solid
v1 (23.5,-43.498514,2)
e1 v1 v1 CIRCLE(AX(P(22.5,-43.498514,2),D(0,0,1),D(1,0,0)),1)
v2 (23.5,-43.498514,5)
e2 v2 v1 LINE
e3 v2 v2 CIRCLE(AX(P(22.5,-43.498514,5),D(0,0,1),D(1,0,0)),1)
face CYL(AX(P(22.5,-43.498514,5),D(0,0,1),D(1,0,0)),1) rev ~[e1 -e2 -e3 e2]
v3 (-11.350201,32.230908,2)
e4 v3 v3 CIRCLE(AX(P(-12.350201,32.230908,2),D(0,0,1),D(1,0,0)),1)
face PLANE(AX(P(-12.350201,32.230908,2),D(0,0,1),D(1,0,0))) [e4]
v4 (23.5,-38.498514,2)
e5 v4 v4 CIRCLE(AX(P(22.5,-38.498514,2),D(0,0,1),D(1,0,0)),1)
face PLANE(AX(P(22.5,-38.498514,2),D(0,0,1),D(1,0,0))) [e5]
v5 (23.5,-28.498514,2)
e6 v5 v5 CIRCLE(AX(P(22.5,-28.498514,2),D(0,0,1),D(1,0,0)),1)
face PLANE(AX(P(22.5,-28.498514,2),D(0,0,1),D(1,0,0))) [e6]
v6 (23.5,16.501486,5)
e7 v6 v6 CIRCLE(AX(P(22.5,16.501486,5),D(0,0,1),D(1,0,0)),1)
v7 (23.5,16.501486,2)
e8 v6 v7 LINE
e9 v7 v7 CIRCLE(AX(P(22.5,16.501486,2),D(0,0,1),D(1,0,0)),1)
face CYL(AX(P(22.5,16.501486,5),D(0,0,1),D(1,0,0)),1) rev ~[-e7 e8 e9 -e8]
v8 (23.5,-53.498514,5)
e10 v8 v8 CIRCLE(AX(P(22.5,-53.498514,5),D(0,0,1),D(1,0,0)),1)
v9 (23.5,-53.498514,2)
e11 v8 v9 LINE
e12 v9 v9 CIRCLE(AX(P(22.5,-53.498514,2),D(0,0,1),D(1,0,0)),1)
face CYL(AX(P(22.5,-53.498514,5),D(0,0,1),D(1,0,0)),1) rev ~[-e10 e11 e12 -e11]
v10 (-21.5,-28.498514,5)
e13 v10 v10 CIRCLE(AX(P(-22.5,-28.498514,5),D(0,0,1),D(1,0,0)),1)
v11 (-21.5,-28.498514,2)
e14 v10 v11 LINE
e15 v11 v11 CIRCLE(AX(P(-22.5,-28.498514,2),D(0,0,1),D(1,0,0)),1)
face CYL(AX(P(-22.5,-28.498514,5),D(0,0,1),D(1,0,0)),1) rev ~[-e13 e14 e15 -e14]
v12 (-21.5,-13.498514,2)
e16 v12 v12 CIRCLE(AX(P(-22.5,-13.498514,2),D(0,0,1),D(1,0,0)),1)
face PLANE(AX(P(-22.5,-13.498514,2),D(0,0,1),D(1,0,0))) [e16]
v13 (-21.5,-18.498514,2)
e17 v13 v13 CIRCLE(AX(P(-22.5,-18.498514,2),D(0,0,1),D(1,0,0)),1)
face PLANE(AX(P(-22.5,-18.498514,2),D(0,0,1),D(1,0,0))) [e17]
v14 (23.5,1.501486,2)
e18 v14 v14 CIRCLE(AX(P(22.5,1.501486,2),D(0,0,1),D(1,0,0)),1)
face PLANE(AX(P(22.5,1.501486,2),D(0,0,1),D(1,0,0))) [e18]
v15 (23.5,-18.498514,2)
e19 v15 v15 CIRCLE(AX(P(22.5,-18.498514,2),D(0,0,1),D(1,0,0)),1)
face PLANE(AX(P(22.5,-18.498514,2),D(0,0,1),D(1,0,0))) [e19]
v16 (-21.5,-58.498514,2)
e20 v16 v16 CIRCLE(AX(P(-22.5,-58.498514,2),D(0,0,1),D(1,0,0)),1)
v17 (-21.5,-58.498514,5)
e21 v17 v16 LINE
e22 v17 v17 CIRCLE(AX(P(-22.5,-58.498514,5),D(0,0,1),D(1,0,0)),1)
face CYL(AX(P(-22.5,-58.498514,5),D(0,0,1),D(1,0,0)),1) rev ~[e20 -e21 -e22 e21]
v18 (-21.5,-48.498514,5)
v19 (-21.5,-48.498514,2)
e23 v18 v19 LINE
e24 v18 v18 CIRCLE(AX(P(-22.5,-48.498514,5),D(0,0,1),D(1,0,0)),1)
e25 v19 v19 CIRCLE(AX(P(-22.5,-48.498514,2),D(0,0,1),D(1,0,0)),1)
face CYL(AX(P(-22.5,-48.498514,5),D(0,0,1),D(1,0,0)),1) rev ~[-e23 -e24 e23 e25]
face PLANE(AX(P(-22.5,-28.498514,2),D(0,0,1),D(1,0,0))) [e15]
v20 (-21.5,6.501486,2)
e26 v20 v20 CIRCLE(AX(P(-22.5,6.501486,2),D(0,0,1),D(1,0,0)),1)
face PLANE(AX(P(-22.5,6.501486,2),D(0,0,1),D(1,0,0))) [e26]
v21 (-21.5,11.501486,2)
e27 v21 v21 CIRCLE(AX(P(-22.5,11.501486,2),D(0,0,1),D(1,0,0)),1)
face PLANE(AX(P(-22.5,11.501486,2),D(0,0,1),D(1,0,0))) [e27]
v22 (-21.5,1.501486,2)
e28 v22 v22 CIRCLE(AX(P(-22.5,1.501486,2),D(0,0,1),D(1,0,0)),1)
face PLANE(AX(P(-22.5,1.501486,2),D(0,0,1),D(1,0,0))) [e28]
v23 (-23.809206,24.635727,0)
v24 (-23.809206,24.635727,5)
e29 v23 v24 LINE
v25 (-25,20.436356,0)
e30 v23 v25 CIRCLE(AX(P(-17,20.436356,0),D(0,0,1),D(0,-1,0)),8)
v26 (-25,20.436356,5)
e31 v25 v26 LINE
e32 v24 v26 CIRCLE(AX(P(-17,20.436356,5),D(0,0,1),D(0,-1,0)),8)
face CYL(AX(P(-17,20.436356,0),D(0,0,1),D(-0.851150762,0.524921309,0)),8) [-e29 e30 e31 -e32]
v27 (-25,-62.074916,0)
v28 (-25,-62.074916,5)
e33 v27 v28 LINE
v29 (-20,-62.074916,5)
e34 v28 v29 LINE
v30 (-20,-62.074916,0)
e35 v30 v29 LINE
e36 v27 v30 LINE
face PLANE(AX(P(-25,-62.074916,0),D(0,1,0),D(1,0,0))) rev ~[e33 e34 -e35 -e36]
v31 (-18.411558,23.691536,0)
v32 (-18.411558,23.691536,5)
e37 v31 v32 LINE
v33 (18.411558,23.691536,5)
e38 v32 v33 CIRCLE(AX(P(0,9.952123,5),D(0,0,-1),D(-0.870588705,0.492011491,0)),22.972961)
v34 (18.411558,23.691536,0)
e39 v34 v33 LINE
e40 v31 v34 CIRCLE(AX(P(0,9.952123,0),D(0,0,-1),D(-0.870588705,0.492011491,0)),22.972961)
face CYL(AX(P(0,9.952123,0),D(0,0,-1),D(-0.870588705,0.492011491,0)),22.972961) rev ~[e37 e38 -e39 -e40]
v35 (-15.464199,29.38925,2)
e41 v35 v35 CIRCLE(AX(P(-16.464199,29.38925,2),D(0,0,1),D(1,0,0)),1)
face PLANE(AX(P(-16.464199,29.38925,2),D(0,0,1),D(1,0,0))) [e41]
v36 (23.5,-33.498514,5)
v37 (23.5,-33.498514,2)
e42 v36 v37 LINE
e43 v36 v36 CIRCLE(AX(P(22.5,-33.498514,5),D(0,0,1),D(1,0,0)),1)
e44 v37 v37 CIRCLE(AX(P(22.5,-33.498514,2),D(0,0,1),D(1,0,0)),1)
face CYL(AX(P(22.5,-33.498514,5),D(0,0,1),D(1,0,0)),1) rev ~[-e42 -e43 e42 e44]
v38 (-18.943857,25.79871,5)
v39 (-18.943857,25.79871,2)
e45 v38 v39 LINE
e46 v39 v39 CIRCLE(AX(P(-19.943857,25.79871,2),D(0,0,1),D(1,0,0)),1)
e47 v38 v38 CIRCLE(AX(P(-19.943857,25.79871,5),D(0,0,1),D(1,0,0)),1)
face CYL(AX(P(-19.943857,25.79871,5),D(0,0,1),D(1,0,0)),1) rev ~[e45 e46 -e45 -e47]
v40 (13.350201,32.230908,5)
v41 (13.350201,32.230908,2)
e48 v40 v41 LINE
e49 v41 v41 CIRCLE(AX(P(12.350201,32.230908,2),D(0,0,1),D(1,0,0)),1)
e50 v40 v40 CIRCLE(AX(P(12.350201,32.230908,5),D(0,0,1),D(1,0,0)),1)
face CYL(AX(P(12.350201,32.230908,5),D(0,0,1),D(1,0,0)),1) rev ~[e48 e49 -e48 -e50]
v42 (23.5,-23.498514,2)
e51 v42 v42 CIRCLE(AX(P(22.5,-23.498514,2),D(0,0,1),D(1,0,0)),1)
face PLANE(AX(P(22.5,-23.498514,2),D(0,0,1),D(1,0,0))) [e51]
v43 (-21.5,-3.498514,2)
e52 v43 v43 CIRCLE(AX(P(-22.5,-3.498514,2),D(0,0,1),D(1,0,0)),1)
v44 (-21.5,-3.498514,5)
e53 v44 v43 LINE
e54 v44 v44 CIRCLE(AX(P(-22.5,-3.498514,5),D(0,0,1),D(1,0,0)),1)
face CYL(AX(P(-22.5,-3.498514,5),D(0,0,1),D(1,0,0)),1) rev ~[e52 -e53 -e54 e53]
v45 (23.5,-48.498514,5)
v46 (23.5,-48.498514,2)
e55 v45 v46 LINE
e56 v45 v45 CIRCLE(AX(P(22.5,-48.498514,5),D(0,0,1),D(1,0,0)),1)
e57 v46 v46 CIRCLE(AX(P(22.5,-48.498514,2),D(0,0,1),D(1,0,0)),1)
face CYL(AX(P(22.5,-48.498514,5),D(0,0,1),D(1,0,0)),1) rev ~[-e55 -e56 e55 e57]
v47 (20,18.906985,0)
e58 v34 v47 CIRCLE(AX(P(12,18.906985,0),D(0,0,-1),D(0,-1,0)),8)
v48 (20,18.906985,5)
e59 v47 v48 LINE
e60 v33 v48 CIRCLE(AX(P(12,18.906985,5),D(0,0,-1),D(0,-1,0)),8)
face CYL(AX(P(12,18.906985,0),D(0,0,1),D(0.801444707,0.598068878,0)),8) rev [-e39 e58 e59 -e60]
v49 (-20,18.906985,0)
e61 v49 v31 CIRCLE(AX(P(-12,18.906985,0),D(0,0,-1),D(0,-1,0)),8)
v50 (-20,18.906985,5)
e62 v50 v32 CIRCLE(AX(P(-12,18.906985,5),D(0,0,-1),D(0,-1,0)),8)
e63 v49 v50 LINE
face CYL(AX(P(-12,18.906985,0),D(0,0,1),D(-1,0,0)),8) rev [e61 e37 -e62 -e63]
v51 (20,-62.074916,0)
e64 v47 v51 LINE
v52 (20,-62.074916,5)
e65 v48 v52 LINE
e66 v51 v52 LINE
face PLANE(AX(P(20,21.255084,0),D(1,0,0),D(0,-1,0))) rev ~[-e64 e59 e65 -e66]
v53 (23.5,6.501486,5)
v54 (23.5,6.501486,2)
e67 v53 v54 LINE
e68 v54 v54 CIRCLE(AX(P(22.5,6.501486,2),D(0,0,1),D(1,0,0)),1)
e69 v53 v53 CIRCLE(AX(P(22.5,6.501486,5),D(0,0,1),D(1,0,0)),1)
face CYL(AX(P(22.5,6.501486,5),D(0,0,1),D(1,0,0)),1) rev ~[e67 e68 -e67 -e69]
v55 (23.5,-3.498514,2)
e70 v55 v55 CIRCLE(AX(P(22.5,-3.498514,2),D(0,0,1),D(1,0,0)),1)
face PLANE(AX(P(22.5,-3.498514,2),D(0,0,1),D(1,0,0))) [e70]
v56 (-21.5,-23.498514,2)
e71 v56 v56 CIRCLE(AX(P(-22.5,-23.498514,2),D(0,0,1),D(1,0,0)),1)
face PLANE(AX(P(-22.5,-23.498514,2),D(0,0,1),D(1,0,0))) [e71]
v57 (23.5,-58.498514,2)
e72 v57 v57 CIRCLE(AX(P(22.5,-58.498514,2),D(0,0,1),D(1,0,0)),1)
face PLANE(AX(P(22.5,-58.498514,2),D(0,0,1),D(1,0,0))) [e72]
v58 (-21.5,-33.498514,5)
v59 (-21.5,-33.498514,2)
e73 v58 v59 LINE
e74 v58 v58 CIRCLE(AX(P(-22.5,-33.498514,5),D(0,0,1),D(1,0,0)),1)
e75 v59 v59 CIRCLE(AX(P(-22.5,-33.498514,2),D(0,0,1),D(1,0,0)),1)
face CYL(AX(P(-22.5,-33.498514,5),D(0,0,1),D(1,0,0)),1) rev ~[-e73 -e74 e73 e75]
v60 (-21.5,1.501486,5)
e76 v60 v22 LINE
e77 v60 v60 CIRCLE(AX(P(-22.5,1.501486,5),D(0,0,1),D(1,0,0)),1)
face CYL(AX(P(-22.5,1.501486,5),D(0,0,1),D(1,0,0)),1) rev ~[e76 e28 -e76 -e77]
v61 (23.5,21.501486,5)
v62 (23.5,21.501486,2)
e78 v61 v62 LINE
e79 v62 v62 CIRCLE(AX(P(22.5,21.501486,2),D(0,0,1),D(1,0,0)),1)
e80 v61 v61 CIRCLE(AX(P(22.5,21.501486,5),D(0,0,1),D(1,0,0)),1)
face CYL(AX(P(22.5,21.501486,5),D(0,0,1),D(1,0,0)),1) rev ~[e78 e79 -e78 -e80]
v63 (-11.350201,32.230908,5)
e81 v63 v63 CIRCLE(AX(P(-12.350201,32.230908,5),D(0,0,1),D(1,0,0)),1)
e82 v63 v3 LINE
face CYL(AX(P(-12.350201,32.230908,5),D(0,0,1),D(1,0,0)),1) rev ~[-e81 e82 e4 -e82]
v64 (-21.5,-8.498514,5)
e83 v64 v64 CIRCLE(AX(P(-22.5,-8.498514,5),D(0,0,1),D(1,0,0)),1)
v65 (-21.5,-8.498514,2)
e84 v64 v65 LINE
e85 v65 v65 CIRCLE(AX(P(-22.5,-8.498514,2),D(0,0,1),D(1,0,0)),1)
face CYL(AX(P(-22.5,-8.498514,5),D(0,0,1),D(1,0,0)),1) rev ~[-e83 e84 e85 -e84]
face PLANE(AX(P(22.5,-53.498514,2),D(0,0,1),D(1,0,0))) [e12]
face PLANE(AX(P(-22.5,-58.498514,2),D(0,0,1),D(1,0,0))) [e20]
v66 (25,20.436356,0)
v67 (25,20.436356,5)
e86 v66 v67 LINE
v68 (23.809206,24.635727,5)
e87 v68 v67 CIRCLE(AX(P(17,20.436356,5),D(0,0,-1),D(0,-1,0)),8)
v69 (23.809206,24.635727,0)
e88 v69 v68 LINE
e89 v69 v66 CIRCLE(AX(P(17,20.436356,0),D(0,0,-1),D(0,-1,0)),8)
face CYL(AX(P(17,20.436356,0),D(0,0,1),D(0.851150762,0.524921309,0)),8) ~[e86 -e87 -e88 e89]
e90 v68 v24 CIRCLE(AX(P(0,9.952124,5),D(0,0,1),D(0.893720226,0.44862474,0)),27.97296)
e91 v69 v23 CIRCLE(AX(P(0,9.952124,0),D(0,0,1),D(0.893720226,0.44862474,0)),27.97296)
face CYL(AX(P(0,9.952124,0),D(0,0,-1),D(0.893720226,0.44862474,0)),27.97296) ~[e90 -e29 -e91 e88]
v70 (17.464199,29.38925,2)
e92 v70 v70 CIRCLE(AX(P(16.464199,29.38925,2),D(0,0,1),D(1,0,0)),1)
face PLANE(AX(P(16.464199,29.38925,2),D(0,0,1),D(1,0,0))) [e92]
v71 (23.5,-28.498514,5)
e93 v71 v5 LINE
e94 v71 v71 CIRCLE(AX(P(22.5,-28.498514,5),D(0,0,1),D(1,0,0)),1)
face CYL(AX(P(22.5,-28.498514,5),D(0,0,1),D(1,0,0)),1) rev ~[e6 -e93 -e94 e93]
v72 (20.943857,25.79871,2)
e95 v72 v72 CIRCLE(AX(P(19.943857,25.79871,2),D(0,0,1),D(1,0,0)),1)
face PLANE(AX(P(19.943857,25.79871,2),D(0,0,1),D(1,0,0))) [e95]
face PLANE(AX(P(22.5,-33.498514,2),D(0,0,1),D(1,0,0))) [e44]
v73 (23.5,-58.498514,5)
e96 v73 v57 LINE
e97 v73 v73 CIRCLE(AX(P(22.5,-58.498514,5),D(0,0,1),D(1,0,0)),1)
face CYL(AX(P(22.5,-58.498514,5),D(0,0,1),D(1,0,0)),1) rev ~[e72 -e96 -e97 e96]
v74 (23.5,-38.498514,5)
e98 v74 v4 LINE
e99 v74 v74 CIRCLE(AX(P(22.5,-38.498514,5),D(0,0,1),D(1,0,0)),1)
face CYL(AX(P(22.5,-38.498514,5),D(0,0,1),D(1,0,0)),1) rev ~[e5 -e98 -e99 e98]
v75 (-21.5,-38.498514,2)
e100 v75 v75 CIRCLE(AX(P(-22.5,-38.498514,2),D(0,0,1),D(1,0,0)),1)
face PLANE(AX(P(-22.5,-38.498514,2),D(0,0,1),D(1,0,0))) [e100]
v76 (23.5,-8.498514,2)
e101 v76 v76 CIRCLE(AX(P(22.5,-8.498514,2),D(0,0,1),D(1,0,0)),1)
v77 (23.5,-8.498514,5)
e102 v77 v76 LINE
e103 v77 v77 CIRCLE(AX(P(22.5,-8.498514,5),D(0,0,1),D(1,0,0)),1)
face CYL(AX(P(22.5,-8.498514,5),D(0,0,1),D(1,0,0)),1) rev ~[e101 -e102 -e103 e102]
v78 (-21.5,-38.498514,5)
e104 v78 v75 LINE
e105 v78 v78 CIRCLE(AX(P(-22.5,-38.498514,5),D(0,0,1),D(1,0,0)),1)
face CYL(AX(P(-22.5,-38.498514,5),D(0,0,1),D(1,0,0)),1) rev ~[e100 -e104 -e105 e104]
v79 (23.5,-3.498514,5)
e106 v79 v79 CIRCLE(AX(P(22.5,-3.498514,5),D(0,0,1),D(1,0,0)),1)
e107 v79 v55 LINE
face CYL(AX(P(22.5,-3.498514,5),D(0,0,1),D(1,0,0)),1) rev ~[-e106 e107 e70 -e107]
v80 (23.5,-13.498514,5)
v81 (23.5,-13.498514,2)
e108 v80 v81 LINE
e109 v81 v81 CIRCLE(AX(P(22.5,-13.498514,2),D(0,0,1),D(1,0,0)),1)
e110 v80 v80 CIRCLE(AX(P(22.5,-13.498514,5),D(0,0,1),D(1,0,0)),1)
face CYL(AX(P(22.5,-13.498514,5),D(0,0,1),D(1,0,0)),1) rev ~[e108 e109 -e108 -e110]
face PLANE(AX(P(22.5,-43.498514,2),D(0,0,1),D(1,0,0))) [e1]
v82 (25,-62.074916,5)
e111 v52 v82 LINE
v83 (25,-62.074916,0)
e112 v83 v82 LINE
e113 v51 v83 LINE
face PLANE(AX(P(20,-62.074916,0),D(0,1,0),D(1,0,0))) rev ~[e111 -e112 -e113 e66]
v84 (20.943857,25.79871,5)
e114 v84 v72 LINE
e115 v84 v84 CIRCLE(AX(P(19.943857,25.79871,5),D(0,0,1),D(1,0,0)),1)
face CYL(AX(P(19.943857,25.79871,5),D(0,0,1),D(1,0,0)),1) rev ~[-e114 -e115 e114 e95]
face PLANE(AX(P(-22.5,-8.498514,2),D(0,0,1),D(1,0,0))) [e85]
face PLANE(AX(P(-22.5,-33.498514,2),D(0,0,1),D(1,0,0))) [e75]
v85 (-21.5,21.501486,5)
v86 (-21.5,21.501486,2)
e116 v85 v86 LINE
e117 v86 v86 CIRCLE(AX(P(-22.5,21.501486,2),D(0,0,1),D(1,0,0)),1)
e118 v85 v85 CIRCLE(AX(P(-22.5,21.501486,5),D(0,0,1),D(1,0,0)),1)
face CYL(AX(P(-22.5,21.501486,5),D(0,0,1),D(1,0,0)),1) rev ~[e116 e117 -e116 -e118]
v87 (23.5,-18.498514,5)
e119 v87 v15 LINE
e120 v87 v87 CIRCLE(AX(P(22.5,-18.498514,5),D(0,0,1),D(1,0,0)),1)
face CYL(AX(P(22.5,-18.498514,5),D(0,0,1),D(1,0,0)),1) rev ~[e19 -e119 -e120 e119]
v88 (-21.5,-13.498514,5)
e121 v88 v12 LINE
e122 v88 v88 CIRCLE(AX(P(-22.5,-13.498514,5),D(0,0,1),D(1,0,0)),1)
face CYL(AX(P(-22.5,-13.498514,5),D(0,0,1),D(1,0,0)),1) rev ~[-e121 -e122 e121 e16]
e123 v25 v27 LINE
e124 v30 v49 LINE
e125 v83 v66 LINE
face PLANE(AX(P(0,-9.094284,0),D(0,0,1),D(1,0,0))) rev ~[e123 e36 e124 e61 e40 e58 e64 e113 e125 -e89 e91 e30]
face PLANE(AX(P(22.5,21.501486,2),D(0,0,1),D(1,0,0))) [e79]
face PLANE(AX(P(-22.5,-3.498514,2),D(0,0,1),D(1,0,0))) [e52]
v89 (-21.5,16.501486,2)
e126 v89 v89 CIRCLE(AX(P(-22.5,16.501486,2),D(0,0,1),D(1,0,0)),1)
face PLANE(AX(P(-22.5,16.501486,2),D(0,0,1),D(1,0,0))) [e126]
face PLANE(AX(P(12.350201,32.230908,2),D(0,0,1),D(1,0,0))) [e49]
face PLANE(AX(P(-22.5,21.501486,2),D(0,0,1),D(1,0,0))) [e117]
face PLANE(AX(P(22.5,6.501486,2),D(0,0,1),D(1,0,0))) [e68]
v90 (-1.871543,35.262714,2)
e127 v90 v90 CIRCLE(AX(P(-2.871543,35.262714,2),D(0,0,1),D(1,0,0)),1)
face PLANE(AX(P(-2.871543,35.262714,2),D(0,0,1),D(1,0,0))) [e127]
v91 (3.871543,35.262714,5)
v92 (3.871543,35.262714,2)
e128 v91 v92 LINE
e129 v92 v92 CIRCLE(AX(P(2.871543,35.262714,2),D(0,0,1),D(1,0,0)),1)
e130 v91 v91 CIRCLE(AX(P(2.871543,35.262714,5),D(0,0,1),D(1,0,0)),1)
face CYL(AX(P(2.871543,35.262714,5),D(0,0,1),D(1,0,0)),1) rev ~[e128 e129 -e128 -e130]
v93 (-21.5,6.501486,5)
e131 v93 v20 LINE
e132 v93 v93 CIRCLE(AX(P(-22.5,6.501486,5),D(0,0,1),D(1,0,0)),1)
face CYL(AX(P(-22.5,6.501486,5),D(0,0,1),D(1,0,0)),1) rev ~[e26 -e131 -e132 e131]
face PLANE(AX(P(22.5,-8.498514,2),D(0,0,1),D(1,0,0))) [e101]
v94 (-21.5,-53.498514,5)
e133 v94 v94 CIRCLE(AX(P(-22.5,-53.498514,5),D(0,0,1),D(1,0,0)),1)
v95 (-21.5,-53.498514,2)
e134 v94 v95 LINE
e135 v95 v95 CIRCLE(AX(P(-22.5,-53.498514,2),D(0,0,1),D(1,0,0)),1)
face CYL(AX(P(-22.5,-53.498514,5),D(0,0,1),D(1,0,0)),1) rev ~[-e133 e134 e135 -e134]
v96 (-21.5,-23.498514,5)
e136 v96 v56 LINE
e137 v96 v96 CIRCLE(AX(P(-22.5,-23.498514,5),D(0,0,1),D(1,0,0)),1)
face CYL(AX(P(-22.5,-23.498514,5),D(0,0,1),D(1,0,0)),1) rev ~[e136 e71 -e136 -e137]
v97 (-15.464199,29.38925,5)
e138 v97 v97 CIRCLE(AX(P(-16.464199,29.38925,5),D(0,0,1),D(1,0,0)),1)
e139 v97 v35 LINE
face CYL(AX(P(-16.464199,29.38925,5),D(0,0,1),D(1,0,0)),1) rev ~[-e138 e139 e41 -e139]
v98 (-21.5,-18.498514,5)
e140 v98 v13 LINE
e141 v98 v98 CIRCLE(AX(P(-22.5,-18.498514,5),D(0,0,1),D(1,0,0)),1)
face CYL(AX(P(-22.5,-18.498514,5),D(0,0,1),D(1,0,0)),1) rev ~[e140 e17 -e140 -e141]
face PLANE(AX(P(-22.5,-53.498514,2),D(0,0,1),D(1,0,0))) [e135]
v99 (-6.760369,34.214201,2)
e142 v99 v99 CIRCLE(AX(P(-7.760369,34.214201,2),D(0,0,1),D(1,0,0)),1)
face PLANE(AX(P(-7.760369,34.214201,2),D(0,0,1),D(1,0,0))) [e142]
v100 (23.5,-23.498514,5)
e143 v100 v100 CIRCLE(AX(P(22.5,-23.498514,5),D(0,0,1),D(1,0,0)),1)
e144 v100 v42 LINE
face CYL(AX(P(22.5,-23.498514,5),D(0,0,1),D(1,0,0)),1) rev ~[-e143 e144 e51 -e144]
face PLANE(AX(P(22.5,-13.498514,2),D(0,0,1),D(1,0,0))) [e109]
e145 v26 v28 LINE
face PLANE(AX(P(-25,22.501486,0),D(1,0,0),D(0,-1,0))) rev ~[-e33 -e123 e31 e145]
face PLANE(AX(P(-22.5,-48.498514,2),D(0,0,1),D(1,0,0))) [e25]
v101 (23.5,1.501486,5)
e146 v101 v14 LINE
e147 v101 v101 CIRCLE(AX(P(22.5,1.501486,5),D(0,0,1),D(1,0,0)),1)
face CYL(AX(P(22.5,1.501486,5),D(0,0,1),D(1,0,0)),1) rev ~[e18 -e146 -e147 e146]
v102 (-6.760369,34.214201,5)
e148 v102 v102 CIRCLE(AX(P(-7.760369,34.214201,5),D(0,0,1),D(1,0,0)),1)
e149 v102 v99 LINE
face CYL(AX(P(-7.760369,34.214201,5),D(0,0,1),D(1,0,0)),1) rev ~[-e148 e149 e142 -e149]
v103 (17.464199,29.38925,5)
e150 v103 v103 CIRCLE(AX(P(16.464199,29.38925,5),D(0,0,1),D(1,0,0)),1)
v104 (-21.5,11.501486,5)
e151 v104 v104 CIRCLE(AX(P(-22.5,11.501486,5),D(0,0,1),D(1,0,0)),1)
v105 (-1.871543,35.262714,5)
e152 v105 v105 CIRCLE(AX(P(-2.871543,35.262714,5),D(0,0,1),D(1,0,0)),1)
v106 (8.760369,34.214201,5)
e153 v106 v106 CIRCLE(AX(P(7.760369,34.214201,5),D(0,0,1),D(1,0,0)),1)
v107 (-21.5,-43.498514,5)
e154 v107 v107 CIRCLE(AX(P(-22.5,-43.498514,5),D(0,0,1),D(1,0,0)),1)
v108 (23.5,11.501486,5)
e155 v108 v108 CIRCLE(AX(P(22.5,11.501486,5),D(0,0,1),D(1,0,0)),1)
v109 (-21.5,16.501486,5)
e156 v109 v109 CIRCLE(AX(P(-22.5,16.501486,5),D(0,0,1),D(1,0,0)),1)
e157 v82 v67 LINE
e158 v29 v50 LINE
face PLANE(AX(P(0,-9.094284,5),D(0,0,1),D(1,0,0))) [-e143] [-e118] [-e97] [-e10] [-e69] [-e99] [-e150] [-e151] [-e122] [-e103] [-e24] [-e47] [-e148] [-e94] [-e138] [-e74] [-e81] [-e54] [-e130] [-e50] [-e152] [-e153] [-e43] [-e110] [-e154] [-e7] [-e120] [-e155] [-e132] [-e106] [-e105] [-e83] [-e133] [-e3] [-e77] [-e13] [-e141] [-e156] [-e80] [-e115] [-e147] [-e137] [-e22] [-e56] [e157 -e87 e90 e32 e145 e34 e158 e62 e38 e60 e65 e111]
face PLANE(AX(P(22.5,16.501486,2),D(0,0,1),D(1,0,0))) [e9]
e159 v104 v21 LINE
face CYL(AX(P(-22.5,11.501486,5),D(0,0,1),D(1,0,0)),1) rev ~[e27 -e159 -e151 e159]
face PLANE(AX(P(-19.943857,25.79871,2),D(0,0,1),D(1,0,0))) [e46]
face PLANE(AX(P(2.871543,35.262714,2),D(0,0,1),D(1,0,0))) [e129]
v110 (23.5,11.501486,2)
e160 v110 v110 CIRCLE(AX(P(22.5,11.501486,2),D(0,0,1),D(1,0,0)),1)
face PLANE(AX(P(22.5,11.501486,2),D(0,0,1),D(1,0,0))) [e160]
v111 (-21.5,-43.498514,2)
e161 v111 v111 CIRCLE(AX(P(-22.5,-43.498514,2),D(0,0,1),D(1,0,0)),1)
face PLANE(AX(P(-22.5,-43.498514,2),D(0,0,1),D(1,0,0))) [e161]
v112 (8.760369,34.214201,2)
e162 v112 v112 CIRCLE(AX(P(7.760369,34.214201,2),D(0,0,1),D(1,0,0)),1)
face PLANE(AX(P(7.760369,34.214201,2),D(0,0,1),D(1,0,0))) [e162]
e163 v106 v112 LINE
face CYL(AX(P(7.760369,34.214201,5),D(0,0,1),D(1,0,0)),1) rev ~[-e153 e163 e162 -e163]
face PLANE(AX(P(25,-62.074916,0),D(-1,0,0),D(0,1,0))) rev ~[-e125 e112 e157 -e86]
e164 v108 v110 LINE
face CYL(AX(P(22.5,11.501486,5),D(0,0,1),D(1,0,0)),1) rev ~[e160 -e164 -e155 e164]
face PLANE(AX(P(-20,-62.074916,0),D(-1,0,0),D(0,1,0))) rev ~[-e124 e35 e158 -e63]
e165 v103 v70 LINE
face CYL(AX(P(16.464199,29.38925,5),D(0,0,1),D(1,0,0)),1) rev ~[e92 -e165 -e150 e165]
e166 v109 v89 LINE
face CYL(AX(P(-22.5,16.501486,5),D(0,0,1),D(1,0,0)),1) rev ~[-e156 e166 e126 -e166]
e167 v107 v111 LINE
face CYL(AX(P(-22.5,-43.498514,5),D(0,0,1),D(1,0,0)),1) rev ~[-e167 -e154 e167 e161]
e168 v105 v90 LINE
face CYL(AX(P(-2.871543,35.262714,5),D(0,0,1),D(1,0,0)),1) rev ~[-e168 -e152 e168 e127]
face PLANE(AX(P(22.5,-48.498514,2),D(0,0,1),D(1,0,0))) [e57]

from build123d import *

# Parameters (mm, degrees)
F1_DEPTH = 5
F2_R     = 1
F3_DEPTH = 3
F4_R     = 8


with BuildPart() as f1:
    # F0 (on Top) → F1 (new body)
    with BuildSketch(Plane.XY):
        with BuildLine():
            ThreePointArc((25, 22.501486), (0, 37.925084), (-25, 22.501486))
            Line((-25, 22.501486), (-25, -62.074916))
            Line((-25, -62.074916), (-20, -62.074916))
            Line((-20, -62.074916), (-20, 21.255084))
            ThreePointArc((-20, 21.255084), (0, 32.925084), (20, 21.255084))
            Line((20, 21.255084), (20, -62.074916))
            Line((20, -62.074916), (25, -62.074916))
            Line((25, -62.074916), (25, 22.501486))
        make_face()
    extrude(amount=F1_DEPTH)

    # F2 (on face) → F3 (cut)
    with BuildSketch(Plane.XY.offset(5)):
        with Locations((-22.5, -13.498514)):
            Circle(F2_R)
        with Locations((-22.5, -8.498514)):
            Circle(F2_R)
        with Locations((-22.5, -3.498514)):
            Circle(F2_R)
        with Locations((-22.5, 1.501486)):
            Circle(F2_R)
        with Locations((-22.5, 6.501486)):
            Circle(F2_R)
        with Locations((-22.5, 11.501486)):
            Circle(F2_R)
        with Locations((-22.5, 16.501486)):
            Circle(F2_R)
        with Locations((-22.5, 21.501486)):
            Circle(F2_R)
        with Locations((-19.943857, 25.79871)):
            Circle(F2_R)
        with Locations((-16.464199, 29.38925)):
            Circle(F2_R)
        with Locations((-12.350201, 32.230908)):
            Circle(F2_R)
        with Locations((-7.760369, 34.214201)):
            Circle(F2_R)
        with Locations((-2.871543, 35.262714)):
            Circle(F2_R)
        with Locations((2.871543, 35.262714)):
            Circle(F2_R)
        with Locations((7.760369, 34.214201)):
            Circle(F2_R)
        with Locations((12.350201, 32.230908)):
            Circle(F2_R)
        with Locations((16.464199, 29.38925)):
            Circle(F2_R)
        with Locations((19.943857, 25.79871)):
            Circle(F2_R)
        with Locations((22.5, 21.501486)):
            Circle(F2_R)
        with Locations((22.5, 16.501486)):
            Circle(F2_R)
        with Locations((22.5, 11.501486)):
            Circle(F2_R)
        with Locations((22.5, 6.501486)):
            Circle(F2_R)
        with Locations((22.5, 1.501486)):
            Circle(F2_R)
        with Locations((22.5, -3.498514)):
            Circle(F2_R)
        with Locations((22.5, -8.498514)):
            Circle(F2_R)
        with Locations((22.5, -13.498514)):
            Circle(F2_R)
        with Locations((22.5, -18.498514)):
            Circle(F2_R)
        with Locations((22.5, -23.498514)):
            Circle(F2_R)
        with Locations((22.5, -28.498514)):
            Circle(F2_R)
        with Locations((22.5, -33.498514)):
            Circle(F2_R)
        with Locations((22.5, -48.498514)):
            Circle(F2_R)
        with Locations((22.5, -38.498514)):
            Circle(F2_R)
        with Locations((22.5, -43.498514)):
            Circle(F2_R)
        with Locations((22.5, -53.498514)):
            Circle(F2_R)
        with Locations((-22.5, -18.498514)):
            Circle(F2_R)
        with Locations((-22.5, -23.498514)):
            Circle(F2_R)
        with Locations((-22.5, -28.498514)):
            Circle(F2_R)
        with Locations((-22.5, -33.498514)):
            Circle(F2_R)
        with Locations((-22.5, -38.498514)):
            Circle(F2_R)
        with Locations((-22.5, -43.498514)):
            Circle(F2_R)
        with Locations((-22.5, -48.498514)):
            Circle(F2_R)
        with Locations((-22.5, -53.498514)):
            Circle(F2_R)
        with Locations((-22.5, -58.498514)):
            Circle(F2_R)
        with Locations((22.5, -58.498514)):
            Circle(F2_R)
    extrude(amount=-F3_DEPTH, mode=Mode.SUBTRACT)

    # F4
    f4_edges = [f1.edges().sort_by_distance(p)[0] for p in [
        (-25, 22.501486, 2.5),
        (-20, 21.255084, 2.5),
        (25, 22.501486, 2.5),
        (20, 21.255084, 2.5),
    ]]
    fillet(f4_edges, radius=F4_R)


solid = f1.part
